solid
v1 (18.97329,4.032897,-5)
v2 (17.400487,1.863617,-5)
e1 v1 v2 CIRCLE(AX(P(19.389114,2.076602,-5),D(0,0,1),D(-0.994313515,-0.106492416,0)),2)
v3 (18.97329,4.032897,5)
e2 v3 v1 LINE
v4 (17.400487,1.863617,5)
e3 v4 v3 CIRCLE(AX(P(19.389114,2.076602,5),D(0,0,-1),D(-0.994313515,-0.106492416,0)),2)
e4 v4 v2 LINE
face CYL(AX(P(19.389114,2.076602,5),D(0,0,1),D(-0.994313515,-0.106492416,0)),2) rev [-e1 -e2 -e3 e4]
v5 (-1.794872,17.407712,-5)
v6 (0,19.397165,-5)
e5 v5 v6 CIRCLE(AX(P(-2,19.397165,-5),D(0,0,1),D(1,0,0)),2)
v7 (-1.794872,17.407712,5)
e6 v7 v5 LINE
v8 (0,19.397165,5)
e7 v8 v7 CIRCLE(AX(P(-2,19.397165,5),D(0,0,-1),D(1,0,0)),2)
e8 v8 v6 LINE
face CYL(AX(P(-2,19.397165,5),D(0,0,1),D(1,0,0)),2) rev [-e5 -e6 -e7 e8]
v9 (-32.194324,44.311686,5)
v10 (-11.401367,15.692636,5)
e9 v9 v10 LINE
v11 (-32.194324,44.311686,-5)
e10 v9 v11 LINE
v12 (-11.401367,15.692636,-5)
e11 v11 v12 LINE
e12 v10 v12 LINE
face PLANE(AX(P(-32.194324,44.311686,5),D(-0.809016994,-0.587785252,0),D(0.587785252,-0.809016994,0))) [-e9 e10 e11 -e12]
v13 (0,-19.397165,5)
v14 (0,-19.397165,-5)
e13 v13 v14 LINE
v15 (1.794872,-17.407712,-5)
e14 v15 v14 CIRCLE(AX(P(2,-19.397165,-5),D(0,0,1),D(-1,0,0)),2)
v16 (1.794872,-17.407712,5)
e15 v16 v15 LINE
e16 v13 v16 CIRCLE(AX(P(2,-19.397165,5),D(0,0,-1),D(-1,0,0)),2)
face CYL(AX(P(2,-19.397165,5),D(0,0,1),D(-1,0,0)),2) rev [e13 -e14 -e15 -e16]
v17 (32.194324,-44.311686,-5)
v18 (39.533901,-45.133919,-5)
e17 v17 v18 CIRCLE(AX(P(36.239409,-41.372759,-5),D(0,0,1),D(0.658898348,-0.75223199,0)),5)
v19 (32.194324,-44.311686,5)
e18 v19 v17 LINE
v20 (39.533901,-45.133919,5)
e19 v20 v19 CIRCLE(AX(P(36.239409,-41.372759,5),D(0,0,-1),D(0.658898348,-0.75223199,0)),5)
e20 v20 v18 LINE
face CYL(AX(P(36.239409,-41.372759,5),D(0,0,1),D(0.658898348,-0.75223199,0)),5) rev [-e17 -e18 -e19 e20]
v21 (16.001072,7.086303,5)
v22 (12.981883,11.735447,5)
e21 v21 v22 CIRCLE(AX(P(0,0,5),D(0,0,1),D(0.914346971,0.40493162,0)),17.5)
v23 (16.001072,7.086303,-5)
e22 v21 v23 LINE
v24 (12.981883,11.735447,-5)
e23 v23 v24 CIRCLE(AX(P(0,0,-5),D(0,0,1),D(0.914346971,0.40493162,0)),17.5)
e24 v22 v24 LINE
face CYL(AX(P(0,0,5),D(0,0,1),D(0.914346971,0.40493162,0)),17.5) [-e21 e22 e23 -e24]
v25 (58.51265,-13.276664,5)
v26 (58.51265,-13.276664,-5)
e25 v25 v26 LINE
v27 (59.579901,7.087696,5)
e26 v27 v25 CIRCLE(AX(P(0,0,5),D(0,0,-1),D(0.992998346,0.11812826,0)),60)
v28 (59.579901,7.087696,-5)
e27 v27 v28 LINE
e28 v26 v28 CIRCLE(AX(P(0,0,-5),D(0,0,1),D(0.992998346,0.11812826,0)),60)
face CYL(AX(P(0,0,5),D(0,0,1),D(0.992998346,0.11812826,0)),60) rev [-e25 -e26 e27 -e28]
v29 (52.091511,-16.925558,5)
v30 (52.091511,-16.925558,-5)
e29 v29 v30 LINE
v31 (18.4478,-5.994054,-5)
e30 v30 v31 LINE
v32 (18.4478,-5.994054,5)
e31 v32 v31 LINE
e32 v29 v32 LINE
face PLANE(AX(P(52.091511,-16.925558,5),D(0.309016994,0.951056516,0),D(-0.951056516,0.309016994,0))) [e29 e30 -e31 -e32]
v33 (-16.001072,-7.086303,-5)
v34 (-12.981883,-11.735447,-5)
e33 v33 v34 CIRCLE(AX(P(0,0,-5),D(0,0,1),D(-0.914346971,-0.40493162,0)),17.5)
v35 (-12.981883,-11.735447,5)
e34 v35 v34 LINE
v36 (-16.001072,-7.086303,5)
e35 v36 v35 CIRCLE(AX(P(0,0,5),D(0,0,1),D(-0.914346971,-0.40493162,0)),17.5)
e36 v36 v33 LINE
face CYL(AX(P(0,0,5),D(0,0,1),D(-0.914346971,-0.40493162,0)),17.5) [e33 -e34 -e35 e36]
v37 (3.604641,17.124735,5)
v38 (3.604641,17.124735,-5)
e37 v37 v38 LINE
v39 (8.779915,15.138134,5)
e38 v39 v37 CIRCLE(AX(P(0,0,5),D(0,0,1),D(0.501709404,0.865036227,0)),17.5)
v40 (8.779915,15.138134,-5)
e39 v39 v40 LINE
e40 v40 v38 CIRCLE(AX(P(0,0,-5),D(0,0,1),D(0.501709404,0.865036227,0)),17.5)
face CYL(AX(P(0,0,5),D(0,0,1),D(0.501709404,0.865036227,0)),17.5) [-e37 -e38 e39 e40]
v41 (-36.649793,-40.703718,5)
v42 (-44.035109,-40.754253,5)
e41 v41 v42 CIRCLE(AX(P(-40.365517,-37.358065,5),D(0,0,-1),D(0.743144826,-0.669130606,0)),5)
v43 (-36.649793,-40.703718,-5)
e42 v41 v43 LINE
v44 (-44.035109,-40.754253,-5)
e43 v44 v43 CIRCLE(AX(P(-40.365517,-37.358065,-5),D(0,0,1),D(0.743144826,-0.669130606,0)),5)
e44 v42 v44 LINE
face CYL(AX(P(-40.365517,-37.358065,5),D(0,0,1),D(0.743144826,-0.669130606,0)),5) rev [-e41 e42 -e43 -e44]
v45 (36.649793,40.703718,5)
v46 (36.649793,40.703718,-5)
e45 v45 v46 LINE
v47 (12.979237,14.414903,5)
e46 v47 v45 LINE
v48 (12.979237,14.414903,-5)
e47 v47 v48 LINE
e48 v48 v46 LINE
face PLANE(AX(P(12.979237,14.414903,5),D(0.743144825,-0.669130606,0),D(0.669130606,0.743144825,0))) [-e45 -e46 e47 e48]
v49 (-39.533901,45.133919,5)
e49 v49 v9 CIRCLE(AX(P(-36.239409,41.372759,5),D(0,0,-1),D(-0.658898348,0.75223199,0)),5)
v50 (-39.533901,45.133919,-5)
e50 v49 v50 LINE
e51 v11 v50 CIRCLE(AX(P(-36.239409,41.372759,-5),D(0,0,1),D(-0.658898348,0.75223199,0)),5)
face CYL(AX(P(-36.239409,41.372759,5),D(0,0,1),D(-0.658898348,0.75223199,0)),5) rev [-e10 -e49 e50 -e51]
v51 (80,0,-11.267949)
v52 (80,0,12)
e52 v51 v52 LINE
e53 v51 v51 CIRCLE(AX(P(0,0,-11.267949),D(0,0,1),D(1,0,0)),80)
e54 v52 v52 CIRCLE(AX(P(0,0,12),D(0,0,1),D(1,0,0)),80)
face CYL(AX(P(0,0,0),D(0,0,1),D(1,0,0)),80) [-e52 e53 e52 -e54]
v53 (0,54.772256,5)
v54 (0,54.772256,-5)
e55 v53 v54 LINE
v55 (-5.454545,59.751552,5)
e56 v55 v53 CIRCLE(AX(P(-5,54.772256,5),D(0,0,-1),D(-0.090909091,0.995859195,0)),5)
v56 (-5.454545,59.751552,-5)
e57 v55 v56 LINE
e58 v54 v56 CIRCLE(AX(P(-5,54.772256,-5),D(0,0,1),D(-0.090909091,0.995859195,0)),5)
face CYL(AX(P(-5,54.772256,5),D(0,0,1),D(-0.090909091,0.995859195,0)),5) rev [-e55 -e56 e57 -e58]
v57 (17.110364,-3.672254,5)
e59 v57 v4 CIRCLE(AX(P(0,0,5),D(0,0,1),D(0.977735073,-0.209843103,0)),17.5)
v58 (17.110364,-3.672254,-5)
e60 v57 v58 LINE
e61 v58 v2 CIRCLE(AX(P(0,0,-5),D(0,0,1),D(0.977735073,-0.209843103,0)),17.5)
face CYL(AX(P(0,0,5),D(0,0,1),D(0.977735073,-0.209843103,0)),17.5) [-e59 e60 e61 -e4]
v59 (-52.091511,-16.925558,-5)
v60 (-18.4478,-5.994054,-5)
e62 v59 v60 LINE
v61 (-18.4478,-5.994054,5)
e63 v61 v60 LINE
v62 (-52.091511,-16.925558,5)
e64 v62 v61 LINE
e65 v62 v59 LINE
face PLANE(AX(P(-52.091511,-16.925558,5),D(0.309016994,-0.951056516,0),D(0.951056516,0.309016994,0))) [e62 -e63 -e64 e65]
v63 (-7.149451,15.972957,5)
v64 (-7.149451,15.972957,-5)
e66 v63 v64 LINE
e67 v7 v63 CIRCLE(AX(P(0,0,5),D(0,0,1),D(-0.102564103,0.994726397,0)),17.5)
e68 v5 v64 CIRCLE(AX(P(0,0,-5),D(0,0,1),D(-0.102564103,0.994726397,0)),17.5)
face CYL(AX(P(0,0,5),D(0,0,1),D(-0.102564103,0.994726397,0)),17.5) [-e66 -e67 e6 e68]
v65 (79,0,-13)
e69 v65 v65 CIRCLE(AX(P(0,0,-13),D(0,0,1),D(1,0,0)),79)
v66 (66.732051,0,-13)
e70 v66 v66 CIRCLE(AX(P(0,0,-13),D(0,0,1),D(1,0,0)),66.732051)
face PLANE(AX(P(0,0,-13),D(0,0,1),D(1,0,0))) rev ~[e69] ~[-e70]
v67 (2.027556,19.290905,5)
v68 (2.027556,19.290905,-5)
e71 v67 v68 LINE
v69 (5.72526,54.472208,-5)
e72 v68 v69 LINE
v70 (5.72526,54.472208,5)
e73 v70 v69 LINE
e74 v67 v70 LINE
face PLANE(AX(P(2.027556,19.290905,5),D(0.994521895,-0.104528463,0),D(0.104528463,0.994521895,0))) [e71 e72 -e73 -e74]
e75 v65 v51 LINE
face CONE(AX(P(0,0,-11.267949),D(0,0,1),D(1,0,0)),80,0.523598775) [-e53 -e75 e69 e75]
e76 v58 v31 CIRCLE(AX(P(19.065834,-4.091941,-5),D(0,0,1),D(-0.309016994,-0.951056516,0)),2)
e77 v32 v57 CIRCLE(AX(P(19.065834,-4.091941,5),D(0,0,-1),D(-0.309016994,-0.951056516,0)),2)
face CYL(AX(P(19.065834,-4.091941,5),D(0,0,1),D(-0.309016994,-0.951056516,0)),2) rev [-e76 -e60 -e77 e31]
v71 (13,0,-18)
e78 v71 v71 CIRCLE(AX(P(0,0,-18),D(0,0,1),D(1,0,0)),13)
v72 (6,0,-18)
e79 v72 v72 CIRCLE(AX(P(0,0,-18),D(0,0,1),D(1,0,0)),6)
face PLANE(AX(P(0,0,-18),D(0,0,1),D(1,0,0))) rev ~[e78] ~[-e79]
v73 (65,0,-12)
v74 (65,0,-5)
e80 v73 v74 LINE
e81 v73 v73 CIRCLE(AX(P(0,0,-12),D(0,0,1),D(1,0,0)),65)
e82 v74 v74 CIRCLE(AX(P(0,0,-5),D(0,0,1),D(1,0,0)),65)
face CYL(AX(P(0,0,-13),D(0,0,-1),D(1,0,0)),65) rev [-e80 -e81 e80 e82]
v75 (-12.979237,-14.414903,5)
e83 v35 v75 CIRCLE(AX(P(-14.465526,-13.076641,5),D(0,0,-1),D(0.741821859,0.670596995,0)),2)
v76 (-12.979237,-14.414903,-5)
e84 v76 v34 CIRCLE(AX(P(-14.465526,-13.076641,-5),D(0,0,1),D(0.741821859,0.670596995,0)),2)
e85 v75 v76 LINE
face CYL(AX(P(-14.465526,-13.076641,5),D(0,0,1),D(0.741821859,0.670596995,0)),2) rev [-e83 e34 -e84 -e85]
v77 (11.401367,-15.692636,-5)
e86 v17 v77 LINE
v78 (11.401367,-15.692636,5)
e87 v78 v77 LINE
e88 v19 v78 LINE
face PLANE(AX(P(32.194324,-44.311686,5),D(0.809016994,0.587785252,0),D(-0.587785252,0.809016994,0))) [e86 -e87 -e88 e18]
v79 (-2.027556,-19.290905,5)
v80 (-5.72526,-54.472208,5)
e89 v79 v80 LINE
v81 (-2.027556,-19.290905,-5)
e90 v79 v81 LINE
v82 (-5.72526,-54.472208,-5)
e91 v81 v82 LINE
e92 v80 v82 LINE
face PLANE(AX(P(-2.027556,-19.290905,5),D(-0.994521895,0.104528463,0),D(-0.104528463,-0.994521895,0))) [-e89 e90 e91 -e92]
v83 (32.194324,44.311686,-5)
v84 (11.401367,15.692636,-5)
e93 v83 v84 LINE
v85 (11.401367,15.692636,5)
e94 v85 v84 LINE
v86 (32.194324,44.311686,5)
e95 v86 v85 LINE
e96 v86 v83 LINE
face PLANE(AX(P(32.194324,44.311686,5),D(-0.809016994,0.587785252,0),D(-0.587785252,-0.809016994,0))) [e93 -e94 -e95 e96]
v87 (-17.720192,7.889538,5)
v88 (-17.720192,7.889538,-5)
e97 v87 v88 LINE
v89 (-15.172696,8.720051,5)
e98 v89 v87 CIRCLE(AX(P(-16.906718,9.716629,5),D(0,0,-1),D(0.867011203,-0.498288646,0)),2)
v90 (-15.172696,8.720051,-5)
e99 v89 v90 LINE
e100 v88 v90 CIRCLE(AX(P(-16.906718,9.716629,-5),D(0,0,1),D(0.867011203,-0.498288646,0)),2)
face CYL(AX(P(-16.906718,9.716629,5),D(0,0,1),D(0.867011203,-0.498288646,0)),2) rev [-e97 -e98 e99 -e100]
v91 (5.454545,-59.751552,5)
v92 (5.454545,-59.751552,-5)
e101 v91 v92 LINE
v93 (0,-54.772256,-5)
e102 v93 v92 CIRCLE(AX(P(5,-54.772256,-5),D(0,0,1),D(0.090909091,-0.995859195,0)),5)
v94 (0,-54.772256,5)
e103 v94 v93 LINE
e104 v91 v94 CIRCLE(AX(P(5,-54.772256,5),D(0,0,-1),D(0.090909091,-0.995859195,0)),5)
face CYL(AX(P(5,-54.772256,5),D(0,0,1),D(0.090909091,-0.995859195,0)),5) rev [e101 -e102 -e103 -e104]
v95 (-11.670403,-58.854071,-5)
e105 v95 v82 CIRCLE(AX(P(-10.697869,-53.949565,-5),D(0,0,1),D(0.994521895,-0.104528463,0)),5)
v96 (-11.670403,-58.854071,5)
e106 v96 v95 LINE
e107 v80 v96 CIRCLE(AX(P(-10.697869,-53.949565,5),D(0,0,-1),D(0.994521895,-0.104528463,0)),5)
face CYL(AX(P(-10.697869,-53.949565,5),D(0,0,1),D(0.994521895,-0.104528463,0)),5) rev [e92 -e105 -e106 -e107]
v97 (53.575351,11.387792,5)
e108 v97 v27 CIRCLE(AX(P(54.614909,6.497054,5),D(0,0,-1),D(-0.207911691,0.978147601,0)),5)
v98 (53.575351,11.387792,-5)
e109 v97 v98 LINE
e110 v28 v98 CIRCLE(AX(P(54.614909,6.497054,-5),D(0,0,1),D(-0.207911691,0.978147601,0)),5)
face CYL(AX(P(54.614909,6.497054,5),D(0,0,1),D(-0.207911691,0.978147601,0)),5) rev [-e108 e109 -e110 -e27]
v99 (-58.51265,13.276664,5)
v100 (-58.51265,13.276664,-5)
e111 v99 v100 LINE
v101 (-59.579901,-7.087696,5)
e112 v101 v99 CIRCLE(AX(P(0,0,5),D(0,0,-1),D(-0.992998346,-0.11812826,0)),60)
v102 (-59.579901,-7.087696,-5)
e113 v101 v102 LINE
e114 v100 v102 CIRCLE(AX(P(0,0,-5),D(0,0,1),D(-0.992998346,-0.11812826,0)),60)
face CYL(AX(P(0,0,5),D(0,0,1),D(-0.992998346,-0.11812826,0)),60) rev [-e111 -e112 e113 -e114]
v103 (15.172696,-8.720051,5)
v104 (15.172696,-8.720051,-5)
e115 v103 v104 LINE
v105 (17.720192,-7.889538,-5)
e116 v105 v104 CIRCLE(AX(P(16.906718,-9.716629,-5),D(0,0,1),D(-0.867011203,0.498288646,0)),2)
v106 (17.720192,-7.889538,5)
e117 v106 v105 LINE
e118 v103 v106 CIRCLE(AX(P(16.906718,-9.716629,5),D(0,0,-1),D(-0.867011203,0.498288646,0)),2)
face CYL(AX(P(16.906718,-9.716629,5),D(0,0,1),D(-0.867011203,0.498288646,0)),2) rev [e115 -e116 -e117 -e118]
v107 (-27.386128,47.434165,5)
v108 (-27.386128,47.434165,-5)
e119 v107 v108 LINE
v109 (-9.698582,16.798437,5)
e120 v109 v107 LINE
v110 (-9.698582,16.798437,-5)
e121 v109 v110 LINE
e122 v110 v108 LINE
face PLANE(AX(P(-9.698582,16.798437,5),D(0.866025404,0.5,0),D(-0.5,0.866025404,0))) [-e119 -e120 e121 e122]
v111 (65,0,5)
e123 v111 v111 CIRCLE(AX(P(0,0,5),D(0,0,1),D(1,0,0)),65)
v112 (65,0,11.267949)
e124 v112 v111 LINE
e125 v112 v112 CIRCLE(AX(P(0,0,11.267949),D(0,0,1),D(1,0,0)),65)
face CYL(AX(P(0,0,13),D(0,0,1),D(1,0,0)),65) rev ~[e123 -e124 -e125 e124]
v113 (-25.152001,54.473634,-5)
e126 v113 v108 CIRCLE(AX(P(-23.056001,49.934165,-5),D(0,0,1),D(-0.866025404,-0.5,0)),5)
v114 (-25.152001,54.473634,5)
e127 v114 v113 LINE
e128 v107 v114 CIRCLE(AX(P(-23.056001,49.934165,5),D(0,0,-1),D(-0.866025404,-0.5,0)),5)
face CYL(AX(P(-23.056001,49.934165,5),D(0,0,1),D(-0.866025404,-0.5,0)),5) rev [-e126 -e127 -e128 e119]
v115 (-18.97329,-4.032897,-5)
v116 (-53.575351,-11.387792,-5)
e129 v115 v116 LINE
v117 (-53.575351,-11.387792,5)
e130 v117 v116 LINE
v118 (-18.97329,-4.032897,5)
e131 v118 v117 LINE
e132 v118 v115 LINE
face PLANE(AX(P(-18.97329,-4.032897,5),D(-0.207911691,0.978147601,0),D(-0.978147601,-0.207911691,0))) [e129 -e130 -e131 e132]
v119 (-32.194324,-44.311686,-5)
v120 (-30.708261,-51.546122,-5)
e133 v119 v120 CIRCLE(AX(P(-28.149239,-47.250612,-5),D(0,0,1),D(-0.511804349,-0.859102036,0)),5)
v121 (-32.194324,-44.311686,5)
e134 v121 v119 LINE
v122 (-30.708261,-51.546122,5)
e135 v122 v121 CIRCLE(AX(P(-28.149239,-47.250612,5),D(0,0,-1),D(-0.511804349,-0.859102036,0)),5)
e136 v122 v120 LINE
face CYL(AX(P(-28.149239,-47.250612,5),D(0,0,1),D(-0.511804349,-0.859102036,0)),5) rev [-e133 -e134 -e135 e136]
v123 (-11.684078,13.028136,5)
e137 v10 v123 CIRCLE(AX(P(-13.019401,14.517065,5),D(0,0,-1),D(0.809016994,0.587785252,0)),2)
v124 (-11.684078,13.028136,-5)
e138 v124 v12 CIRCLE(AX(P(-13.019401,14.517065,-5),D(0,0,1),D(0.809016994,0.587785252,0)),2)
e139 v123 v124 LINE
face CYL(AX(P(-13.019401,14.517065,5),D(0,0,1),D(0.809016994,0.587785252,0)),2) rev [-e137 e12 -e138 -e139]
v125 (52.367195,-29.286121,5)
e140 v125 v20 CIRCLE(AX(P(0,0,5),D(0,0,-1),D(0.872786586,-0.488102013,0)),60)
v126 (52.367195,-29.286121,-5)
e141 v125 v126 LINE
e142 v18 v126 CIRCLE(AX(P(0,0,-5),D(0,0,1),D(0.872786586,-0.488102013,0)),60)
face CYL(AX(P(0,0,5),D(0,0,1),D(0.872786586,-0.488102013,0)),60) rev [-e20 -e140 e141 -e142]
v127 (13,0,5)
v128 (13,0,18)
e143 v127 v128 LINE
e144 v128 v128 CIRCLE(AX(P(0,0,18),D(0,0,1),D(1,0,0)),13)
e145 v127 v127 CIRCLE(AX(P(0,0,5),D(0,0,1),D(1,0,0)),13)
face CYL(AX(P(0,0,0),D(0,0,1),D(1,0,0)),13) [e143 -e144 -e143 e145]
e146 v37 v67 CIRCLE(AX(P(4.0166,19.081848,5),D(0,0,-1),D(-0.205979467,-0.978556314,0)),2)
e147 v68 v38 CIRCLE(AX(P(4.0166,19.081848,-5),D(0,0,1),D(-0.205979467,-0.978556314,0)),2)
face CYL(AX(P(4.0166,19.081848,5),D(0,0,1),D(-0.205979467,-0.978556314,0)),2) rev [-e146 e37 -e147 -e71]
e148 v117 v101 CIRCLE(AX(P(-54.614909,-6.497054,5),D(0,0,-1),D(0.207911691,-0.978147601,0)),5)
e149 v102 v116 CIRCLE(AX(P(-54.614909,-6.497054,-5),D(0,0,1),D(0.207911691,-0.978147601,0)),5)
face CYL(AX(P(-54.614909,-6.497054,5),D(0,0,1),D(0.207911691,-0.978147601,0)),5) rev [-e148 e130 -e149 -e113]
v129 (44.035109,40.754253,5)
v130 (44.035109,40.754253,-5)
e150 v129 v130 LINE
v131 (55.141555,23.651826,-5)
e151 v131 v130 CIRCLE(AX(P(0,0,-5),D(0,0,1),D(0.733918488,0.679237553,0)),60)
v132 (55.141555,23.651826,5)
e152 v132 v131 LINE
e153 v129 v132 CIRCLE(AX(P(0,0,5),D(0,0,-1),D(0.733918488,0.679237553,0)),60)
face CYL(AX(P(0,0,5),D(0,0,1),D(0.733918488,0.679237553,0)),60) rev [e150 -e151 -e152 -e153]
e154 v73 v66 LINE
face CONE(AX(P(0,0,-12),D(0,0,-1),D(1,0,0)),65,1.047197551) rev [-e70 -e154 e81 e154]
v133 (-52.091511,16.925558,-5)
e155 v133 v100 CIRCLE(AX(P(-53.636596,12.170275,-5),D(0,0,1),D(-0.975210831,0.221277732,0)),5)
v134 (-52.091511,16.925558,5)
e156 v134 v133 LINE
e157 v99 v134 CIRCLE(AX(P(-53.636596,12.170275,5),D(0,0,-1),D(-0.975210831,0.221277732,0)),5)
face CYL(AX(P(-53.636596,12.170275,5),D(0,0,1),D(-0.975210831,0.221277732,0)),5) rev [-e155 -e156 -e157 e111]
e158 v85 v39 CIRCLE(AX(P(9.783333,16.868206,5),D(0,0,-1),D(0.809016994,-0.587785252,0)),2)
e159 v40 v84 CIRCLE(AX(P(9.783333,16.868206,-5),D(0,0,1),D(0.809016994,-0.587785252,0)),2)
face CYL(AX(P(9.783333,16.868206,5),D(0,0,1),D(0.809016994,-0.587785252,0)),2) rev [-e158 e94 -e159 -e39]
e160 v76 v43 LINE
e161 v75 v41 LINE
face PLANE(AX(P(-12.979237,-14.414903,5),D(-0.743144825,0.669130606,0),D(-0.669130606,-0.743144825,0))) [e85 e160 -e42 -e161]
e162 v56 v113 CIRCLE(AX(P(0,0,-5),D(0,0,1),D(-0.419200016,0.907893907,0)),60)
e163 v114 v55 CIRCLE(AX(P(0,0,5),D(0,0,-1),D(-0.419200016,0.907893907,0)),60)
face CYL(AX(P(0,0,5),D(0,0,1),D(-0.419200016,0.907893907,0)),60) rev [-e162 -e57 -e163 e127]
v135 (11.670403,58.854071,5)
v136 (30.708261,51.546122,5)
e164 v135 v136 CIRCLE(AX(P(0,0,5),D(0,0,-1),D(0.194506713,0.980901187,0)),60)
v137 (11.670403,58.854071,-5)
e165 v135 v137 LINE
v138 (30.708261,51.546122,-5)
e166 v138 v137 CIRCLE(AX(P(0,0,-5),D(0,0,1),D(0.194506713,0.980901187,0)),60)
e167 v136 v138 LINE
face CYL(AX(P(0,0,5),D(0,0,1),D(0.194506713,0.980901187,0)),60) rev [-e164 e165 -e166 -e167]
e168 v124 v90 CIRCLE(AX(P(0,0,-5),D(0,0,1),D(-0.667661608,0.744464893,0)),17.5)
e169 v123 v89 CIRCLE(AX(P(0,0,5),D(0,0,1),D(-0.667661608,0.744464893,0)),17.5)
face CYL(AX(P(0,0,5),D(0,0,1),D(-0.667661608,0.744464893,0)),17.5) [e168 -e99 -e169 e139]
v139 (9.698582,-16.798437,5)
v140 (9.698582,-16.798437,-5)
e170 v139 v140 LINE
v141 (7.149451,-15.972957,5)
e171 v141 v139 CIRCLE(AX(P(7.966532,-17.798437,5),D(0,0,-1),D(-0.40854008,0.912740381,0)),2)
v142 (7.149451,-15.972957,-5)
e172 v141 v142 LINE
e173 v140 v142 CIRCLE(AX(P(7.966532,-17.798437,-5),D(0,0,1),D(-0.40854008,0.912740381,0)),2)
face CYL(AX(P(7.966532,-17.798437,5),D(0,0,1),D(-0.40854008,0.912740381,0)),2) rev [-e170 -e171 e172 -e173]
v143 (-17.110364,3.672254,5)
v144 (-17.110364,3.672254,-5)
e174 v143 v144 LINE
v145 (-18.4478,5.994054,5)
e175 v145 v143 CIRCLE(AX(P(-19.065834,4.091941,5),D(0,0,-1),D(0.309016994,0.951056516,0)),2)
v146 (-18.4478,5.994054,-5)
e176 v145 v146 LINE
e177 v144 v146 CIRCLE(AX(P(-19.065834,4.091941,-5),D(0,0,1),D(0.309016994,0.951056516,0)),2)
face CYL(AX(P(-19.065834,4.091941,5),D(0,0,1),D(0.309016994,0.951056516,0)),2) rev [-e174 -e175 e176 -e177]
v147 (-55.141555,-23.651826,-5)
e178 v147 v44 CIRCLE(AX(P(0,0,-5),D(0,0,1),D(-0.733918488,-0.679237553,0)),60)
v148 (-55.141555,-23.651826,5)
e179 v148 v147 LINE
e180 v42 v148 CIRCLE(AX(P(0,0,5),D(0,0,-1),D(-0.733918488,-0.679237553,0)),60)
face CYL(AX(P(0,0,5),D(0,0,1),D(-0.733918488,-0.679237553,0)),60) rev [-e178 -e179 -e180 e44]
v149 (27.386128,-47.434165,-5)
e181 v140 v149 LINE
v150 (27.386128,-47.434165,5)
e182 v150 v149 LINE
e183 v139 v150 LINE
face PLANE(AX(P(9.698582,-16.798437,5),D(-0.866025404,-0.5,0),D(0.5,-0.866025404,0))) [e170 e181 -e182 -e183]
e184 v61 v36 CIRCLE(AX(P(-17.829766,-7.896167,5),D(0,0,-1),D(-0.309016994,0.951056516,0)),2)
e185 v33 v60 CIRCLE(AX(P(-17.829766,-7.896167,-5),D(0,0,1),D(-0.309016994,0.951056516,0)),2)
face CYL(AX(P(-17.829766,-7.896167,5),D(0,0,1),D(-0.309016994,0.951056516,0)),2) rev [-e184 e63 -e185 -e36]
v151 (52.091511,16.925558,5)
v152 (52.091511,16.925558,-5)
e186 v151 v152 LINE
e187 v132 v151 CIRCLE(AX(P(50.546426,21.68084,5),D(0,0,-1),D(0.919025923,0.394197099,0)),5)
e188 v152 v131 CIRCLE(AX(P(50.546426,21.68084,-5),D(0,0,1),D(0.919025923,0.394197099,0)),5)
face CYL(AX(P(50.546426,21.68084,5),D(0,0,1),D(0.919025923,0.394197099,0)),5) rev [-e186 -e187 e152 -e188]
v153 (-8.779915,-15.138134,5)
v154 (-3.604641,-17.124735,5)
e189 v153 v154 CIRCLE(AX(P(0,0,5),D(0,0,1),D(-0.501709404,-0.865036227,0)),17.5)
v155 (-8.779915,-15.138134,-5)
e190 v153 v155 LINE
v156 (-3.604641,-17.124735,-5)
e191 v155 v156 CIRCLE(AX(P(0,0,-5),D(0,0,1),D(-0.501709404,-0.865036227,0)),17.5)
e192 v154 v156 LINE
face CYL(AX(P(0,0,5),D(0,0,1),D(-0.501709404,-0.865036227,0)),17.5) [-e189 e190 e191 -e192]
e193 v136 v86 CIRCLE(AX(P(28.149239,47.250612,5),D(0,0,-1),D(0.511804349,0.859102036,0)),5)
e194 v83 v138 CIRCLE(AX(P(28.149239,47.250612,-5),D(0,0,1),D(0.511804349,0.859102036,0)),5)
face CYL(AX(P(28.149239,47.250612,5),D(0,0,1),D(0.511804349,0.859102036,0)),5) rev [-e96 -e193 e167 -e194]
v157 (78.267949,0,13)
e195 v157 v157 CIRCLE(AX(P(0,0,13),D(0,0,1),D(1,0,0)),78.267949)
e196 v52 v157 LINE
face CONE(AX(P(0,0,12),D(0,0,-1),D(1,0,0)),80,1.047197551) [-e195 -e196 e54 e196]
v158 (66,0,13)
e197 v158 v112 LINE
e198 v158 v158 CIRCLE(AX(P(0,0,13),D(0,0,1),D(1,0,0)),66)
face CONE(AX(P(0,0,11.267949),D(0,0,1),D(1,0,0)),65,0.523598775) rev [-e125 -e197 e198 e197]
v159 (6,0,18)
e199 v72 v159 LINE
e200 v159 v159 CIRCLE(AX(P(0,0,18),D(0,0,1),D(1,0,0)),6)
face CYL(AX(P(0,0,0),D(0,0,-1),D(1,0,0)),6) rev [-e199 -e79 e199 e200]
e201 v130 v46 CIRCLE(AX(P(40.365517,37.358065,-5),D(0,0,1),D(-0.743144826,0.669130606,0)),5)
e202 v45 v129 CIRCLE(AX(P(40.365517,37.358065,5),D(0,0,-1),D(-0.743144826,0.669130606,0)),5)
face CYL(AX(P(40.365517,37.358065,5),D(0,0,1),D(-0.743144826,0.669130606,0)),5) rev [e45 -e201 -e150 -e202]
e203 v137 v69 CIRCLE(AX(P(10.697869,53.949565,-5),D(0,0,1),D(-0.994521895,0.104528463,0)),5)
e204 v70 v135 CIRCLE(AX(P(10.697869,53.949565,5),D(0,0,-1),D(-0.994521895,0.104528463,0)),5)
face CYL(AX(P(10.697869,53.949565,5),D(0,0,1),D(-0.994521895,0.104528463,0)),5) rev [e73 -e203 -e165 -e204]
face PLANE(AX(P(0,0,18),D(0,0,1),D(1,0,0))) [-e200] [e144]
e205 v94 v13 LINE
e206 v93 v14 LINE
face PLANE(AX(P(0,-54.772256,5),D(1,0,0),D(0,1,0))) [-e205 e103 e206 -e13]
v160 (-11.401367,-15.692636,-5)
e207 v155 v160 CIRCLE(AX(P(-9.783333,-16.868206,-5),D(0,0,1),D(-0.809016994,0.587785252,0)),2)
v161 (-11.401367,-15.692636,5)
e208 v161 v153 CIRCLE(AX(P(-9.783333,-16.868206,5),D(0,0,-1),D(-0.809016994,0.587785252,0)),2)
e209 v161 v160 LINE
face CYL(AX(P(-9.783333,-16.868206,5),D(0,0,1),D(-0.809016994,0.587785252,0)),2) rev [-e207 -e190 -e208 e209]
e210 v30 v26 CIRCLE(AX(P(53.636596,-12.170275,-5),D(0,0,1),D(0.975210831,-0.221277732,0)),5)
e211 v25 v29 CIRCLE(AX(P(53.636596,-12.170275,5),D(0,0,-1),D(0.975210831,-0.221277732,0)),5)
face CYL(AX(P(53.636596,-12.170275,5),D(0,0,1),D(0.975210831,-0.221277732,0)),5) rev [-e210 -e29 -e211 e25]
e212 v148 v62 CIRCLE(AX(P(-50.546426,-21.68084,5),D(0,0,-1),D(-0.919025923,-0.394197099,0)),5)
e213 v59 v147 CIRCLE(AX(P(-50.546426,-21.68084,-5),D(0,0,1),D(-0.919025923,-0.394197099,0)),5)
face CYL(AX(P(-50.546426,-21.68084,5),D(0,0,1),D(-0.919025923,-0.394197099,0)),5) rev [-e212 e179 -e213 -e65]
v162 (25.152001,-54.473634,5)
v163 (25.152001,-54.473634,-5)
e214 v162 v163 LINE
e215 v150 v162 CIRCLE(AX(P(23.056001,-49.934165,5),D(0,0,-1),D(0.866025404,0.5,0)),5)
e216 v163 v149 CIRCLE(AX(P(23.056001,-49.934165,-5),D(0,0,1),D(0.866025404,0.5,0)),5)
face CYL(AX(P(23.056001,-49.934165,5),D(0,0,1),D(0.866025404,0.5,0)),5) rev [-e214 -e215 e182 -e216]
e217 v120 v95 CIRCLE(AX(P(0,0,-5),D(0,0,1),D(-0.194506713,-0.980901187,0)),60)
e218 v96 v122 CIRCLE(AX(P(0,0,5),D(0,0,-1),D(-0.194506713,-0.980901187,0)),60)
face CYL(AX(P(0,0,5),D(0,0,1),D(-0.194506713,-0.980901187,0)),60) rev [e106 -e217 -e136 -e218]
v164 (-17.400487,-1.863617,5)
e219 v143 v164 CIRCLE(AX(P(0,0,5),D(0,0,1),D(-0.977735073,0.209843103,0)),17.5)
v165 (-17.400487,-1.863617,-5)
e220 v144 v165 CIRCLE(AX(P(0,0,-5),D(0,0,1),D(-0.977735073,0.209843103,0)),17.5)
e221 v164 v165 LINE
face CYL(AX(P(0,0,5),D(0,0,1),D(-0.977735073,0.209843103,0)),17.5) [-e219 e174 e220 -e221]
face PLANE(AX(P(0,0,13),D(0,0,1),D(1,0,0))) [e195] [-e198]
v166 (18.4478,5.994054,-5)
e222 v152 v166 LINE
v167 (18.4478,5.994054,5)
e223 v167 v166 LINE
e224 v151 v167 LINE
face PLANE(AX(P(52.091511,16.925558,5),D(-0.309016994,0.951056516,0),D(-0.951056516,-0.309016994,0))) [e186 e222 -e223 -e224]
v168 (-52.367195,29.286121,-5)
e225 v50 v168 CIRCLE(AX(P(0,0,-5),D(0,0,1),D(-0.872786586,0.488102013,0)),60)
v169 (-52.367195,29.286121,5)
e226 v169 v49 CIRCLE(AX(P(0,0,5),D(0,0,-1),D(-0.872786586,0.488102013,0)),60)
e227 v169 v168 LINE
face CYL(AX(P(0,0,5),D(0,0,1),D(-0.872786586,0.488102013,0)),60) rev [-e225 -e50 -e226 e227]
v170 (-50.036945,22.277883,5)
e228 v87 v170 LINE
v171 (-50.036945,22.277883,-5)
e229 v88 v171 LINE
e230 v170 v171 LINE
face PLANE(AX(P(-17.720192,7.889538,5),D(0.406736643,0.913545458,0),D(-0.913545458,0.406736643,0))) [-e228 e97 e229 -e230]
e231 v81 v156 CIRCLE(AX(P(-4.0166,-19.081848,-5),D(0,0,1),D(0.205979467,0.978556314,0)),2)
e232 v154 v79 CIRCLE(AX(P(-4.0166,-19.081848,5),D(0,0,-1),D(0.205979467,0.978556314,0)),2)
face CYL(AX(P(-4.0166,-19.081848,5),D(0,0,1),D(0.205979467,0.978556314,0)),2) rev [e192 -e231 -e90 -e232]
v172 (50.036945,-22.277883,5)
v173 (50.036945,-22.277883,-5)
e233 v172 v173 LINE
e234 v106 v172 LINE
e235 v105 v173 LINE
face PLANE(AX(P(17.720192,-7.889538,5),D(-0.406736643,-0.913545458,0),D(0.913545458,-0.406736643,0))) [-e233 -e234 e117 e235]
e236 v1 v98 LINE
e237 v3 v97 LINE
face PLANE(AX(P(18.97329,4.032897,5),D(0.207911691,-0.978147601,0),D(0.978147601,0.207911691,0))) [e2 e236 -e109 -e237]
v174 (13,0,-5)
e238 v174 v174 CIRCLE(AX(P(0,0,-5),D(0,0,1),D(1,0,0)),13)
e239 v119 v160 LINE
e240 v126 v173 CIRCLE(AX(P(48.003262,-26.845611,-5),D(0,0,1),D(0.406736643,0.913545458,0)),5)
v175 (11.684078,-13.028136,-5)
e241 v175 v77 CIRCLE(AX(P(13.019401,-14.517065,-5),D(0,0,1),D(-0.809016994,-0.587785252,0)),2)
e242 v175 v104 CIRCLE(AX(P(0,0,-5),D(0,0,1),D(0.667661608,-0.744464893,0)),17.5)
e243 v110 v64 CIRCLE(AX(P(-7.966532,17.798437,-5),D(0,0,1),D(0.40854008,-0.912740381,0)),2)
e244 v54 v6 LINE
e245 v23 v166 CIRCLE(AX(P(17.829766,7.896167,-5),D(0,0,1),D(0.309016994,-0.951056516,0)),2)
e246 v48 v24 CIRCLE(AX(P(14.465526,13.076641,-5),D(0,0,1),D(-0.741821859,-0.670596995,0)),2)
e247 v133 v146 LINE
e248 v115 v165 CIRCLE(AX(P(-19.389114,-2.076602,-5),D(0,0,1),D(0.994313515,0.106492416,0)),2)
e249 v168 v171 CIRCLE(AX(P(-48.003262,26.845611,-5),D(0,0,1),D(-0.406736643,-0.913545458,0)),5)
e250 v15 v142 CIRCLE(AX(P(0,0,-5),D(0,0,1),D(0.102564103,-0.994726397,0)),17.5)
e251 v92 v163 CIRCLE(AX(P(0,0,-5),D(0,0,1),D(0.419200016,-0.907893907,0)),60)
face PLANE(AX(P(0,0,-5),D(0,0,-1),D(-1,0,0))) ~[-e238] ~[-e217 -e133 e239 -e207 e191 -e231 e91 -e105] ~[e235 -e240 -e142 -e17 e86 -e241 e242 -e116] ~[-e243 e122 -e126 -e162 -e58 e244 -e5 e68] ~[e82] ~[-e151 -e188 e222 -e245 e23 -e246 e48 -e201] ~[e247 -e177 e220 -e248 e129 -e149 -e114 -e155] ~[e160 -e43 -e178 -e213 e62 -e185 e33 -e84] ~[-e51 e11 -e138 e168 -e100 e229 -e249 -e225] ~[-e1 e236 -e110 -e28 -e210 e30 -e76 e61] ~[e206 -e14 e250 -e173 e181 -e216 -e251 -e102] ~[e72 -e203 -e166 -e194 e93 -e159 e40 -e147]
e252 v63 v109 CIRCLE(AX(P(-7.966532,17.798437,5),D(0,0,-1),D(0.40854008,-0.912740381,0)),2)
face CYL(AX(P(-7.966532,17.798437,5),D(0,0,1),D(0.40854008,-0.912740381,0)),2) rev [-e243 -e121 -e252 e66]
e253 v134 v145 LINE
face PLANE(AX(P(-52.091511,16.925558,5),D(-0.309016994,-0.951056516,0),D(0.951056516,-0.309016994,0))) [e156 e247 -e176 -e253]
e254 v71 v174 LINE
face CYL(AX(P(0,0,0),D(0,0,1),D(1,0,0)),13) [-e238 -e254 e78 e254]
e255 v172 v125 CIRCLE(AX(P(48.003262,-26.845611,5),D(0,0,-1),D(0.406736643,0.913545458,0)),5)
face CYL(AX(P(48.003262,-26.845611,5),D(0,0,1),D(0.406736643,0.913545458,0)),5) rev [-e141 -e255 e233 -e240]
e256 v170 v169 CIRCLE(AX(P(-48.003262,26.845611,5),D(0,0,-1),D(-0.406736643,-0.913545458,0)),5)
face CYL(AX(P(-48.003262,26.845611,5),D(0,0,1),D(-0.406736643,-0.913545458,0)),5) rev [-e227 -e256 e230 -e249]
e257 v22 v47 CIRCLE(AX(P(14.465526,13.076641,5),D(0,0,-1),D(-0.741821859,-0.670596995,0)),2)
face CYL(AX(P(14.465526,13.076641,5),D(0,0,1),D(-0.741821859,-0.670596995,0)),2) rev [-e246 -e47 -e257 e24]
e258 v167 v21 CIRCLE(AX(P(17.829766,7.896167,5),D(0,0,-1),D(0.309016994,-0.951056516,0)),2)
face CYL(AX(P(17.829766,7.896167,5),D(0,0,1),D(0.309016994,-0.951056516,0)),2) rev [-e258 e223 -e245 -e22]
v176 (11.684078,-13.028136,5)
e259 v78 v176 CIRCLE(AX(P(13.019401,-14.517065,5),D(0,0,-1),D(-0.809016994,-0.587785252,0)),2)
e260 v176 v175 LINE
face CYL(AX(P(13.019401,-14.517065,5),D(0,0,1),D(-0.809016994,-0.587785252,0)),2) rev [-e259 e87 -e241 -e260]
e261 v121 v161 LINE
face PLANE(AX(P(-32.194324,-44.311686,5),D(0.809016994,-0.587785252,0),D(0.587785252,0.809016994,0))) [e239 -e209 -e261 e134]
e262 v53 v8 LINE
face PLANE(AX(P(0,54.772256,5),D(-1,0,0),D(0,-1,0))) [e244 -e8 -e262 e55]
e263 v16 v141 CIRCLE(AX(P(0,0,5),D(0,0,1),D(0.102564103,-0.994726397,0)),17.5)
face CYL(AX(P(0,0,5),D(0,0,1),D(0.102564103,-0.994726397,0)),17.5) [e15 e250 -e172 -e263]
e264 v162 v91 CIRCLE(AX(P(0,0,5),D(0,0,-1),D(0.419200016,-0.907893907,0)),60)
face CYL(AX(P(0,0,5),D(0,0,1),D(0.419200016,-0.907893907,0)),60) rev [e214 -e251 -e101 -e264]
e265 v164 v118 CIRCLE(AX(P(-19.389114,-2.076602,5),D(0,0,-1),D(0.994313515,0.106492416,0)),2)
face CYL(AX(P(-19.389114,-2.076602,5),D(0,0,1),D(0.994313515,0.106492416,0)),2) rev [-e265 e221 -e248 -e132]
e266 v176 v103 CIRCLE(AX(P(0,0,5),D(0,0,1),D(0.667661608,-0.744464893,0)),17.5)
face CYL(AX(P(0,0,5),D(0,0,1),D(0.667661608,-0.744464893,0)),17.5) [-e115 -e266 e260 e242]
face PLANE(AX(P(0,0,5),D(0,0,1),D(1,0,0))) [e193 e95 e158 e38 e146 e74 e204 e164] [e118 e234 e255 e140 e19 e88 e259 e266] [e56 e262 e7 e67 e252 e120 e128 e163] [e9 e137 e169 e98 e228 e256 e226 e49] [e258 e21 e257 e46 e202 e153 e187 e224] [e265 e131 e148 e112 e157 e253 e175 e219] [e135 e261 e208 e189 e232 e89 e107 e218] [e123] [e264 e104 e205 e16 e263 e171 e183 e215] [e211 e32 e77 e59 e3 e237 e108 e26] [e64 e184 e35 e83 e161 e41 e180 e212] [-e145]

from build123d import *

# Parameters (mm, degrees)
SKETCH1_R             = 80
SKETCH1_R_2           = 6
BOSS_EXTRUDE1_DEPTH   = 13
SKETCH2_R             = 65
CUT_EXTRUDE1_DEPTH    = 8
SKETCH3_R             = 13
SKETCH3_R_2           = 6
BOSS_EXTRUDE3_DEPTH   = 18
CHAMFER1_SIZE         = 1
CHAMFER1_SIZE2        = 1.732050808
CHAMFER1_PART_2_SIZE  = 1
CHAMFER1_PART_2_SIZE2 = 1.732050808
CHAMFER1_PART_3_SIZE  = 1
CHAMFER1_PART_3_SIZE2 = 1.732050808
CHAMFER1_PART_4_SIZE  = 1
CHAMFER1_PART_4_SIZE2 = 1.732050808
CUT_EXTRUDE2_DEPTH    = 24
CIRPATTERN1_COUNT     = 10


with BuildPart() as part:
    # Sketch1 → Boss-Extrude1 (new body, symmetric)
    with BuildSketch(Plane.XY):
        Circle(SKETCH1_R)
        Circle(SKETCH1_R_2, mode=Mode.SUBTRACT)
    extrude(amount=BOSS_EXTRUDE1_DEPTH, both=True)

    # Sketch2 → Cut-Extrude1 (cut)
    with BuildSketch(Plane.XY.offset(13)):
        Circle(SKETCH2_R)
    cut_extrude1 = extrude(amount=-CUT_EXTRUDE1_DEPTH, mode=Mode.SUBTRACT)

    # Mirror1: Cut-Extrude1 across plane
    add(cut_extrude1.mirror(Plane.XY), mode=Mode.SUBTRACT)

    # Sketch3 → Boss-Extrude3 (add, symmetric)
    with BuildSketch(Plane.XY):
        Circle(SKETCH3_R)
        Circle(SKETCH3_R_2, mode=Mode.SUBTRACT)
    extrude(amount=BOSS_EXTRUDE3_DEPTH, both=True)

    # Chamfer1
    chamfer1_edges = [part.edges().sort_by_distance(p)[0] for p in [
        (-65, 0, 13),
    ]]
    chamfer1_side = [part.faces().sort_by_distance(p)[0] for p in [
        (-77.7372583, 0, 13),
    ]]
    chamfer(chamfer1_edges, length=CHAMFER1_SIZE, length2=CHAMFER1_SIZE2, reference=chamfer1_side[0])

    # Chamfer1 part 2
    chamfer1_part_2_edges = [part.edges().sort_by_distance(p)[0] for p in [
        (-65, 0, -13),
    ]]
    chamfer1_part_2_side = [part.faces().sort_by_distance(p)[0] for p in [
        (-65, 0, -9),
    ]]
    chamfer(chamfer1_part_2_edges, length=CHAMFER1_PART_2_SIZE, length2=CHAMFER1_PART_2_SIZE2, reference=chamfer1_part_2_side[0])

    # Chamfer1 part 3
    chamfer1_part_3_edges = [part.edges().sort_by_distance(p)[0] for p in [
        (-80, 0, -13),
    ]]
    chamfer1_part_3_side = [part.faces().sort_by_distance(p)[0] for p in [
        (-77.7372583, 0, -13),
    ]]
    chamfer(chamfer1_part_3_edges, length=CHAMFER1_PART_3_SIZE, length2=CHAMFER1_PART_3_SIZE2, reference=chamfer1_part_3_side[0])

    # Chamfer1 part 4
    chamfer1_part_4_edges = [part.edges().sort_by_distance(p)[0] for p in [
        (-80, 0, 13),
    ]]
    chamfer1_part_4_side = [part.faces().sort_by_distance(p)[0] for p in [
        (-80, 0, 0),
    ]]
    chamfer(chamfer1_part_4_edges, length=CHAMFER1_PART_4_SIZE, length2=CHAMFER1_PART_4_SIZE2, reference=chamfer1_part_4_side[0])

    # Sketch4 → Cut-Extrude2 (cut, through all)
    with BuildSketch(Plane.XY.offset(5)):
        with BuildLine():
            Line((0, 54.772255751), (0, 19.397164741))
            ThreePointArc((0, 19.397164741), (-0.515032591, 18.057436487), (-1.794871795, 17.407711947))
            ThreePointArc((-1.794871795, 17.407711947), (-4.529333289, 16.90370196), (-7.149451403, 15.972956666))
            ThreePointArc((-7.149451403, 15.972956666), (-8.582686936, 15.895715021), (-9.698582371, 16.798437427))
            Line((-9.698582371, 16.798437427), (-27.386127875, 47.434164903))
            ThreePointArc((-27.386127875, 47.434164903), (-27.821744262, 51.446675992), (-25.152000934, 54.473634439))
            ThreePointArc((-25.152000934, 54.473634439), (-15.529142706, 57.955549577), (-5.454545455, 59.751551728))
            ThreePointArc((-5.454545455, 59.751551728), (-1.629000688, 58.46500048), (0, 54.772255751))
        make_face()
    cut_extrude2 = extrude(amount=-CUT_EXTRUDE2_DEPTH, mode=Mode.SUBTRACT)

    # CirPattern1: Cut-Extrude2 ×10 about axis
    cirpattern1_axis = Axis((0, 0, 0), (0, 0, 1))
    for i in range(1, CIRPATTERN1_COUNT):
        add(cut_extrude2.rotate(cirpattern1_axis, i * 360 / CIRPATTERN1_COUNT), mode=Mode.SUBTRACT)


solid = part.part
